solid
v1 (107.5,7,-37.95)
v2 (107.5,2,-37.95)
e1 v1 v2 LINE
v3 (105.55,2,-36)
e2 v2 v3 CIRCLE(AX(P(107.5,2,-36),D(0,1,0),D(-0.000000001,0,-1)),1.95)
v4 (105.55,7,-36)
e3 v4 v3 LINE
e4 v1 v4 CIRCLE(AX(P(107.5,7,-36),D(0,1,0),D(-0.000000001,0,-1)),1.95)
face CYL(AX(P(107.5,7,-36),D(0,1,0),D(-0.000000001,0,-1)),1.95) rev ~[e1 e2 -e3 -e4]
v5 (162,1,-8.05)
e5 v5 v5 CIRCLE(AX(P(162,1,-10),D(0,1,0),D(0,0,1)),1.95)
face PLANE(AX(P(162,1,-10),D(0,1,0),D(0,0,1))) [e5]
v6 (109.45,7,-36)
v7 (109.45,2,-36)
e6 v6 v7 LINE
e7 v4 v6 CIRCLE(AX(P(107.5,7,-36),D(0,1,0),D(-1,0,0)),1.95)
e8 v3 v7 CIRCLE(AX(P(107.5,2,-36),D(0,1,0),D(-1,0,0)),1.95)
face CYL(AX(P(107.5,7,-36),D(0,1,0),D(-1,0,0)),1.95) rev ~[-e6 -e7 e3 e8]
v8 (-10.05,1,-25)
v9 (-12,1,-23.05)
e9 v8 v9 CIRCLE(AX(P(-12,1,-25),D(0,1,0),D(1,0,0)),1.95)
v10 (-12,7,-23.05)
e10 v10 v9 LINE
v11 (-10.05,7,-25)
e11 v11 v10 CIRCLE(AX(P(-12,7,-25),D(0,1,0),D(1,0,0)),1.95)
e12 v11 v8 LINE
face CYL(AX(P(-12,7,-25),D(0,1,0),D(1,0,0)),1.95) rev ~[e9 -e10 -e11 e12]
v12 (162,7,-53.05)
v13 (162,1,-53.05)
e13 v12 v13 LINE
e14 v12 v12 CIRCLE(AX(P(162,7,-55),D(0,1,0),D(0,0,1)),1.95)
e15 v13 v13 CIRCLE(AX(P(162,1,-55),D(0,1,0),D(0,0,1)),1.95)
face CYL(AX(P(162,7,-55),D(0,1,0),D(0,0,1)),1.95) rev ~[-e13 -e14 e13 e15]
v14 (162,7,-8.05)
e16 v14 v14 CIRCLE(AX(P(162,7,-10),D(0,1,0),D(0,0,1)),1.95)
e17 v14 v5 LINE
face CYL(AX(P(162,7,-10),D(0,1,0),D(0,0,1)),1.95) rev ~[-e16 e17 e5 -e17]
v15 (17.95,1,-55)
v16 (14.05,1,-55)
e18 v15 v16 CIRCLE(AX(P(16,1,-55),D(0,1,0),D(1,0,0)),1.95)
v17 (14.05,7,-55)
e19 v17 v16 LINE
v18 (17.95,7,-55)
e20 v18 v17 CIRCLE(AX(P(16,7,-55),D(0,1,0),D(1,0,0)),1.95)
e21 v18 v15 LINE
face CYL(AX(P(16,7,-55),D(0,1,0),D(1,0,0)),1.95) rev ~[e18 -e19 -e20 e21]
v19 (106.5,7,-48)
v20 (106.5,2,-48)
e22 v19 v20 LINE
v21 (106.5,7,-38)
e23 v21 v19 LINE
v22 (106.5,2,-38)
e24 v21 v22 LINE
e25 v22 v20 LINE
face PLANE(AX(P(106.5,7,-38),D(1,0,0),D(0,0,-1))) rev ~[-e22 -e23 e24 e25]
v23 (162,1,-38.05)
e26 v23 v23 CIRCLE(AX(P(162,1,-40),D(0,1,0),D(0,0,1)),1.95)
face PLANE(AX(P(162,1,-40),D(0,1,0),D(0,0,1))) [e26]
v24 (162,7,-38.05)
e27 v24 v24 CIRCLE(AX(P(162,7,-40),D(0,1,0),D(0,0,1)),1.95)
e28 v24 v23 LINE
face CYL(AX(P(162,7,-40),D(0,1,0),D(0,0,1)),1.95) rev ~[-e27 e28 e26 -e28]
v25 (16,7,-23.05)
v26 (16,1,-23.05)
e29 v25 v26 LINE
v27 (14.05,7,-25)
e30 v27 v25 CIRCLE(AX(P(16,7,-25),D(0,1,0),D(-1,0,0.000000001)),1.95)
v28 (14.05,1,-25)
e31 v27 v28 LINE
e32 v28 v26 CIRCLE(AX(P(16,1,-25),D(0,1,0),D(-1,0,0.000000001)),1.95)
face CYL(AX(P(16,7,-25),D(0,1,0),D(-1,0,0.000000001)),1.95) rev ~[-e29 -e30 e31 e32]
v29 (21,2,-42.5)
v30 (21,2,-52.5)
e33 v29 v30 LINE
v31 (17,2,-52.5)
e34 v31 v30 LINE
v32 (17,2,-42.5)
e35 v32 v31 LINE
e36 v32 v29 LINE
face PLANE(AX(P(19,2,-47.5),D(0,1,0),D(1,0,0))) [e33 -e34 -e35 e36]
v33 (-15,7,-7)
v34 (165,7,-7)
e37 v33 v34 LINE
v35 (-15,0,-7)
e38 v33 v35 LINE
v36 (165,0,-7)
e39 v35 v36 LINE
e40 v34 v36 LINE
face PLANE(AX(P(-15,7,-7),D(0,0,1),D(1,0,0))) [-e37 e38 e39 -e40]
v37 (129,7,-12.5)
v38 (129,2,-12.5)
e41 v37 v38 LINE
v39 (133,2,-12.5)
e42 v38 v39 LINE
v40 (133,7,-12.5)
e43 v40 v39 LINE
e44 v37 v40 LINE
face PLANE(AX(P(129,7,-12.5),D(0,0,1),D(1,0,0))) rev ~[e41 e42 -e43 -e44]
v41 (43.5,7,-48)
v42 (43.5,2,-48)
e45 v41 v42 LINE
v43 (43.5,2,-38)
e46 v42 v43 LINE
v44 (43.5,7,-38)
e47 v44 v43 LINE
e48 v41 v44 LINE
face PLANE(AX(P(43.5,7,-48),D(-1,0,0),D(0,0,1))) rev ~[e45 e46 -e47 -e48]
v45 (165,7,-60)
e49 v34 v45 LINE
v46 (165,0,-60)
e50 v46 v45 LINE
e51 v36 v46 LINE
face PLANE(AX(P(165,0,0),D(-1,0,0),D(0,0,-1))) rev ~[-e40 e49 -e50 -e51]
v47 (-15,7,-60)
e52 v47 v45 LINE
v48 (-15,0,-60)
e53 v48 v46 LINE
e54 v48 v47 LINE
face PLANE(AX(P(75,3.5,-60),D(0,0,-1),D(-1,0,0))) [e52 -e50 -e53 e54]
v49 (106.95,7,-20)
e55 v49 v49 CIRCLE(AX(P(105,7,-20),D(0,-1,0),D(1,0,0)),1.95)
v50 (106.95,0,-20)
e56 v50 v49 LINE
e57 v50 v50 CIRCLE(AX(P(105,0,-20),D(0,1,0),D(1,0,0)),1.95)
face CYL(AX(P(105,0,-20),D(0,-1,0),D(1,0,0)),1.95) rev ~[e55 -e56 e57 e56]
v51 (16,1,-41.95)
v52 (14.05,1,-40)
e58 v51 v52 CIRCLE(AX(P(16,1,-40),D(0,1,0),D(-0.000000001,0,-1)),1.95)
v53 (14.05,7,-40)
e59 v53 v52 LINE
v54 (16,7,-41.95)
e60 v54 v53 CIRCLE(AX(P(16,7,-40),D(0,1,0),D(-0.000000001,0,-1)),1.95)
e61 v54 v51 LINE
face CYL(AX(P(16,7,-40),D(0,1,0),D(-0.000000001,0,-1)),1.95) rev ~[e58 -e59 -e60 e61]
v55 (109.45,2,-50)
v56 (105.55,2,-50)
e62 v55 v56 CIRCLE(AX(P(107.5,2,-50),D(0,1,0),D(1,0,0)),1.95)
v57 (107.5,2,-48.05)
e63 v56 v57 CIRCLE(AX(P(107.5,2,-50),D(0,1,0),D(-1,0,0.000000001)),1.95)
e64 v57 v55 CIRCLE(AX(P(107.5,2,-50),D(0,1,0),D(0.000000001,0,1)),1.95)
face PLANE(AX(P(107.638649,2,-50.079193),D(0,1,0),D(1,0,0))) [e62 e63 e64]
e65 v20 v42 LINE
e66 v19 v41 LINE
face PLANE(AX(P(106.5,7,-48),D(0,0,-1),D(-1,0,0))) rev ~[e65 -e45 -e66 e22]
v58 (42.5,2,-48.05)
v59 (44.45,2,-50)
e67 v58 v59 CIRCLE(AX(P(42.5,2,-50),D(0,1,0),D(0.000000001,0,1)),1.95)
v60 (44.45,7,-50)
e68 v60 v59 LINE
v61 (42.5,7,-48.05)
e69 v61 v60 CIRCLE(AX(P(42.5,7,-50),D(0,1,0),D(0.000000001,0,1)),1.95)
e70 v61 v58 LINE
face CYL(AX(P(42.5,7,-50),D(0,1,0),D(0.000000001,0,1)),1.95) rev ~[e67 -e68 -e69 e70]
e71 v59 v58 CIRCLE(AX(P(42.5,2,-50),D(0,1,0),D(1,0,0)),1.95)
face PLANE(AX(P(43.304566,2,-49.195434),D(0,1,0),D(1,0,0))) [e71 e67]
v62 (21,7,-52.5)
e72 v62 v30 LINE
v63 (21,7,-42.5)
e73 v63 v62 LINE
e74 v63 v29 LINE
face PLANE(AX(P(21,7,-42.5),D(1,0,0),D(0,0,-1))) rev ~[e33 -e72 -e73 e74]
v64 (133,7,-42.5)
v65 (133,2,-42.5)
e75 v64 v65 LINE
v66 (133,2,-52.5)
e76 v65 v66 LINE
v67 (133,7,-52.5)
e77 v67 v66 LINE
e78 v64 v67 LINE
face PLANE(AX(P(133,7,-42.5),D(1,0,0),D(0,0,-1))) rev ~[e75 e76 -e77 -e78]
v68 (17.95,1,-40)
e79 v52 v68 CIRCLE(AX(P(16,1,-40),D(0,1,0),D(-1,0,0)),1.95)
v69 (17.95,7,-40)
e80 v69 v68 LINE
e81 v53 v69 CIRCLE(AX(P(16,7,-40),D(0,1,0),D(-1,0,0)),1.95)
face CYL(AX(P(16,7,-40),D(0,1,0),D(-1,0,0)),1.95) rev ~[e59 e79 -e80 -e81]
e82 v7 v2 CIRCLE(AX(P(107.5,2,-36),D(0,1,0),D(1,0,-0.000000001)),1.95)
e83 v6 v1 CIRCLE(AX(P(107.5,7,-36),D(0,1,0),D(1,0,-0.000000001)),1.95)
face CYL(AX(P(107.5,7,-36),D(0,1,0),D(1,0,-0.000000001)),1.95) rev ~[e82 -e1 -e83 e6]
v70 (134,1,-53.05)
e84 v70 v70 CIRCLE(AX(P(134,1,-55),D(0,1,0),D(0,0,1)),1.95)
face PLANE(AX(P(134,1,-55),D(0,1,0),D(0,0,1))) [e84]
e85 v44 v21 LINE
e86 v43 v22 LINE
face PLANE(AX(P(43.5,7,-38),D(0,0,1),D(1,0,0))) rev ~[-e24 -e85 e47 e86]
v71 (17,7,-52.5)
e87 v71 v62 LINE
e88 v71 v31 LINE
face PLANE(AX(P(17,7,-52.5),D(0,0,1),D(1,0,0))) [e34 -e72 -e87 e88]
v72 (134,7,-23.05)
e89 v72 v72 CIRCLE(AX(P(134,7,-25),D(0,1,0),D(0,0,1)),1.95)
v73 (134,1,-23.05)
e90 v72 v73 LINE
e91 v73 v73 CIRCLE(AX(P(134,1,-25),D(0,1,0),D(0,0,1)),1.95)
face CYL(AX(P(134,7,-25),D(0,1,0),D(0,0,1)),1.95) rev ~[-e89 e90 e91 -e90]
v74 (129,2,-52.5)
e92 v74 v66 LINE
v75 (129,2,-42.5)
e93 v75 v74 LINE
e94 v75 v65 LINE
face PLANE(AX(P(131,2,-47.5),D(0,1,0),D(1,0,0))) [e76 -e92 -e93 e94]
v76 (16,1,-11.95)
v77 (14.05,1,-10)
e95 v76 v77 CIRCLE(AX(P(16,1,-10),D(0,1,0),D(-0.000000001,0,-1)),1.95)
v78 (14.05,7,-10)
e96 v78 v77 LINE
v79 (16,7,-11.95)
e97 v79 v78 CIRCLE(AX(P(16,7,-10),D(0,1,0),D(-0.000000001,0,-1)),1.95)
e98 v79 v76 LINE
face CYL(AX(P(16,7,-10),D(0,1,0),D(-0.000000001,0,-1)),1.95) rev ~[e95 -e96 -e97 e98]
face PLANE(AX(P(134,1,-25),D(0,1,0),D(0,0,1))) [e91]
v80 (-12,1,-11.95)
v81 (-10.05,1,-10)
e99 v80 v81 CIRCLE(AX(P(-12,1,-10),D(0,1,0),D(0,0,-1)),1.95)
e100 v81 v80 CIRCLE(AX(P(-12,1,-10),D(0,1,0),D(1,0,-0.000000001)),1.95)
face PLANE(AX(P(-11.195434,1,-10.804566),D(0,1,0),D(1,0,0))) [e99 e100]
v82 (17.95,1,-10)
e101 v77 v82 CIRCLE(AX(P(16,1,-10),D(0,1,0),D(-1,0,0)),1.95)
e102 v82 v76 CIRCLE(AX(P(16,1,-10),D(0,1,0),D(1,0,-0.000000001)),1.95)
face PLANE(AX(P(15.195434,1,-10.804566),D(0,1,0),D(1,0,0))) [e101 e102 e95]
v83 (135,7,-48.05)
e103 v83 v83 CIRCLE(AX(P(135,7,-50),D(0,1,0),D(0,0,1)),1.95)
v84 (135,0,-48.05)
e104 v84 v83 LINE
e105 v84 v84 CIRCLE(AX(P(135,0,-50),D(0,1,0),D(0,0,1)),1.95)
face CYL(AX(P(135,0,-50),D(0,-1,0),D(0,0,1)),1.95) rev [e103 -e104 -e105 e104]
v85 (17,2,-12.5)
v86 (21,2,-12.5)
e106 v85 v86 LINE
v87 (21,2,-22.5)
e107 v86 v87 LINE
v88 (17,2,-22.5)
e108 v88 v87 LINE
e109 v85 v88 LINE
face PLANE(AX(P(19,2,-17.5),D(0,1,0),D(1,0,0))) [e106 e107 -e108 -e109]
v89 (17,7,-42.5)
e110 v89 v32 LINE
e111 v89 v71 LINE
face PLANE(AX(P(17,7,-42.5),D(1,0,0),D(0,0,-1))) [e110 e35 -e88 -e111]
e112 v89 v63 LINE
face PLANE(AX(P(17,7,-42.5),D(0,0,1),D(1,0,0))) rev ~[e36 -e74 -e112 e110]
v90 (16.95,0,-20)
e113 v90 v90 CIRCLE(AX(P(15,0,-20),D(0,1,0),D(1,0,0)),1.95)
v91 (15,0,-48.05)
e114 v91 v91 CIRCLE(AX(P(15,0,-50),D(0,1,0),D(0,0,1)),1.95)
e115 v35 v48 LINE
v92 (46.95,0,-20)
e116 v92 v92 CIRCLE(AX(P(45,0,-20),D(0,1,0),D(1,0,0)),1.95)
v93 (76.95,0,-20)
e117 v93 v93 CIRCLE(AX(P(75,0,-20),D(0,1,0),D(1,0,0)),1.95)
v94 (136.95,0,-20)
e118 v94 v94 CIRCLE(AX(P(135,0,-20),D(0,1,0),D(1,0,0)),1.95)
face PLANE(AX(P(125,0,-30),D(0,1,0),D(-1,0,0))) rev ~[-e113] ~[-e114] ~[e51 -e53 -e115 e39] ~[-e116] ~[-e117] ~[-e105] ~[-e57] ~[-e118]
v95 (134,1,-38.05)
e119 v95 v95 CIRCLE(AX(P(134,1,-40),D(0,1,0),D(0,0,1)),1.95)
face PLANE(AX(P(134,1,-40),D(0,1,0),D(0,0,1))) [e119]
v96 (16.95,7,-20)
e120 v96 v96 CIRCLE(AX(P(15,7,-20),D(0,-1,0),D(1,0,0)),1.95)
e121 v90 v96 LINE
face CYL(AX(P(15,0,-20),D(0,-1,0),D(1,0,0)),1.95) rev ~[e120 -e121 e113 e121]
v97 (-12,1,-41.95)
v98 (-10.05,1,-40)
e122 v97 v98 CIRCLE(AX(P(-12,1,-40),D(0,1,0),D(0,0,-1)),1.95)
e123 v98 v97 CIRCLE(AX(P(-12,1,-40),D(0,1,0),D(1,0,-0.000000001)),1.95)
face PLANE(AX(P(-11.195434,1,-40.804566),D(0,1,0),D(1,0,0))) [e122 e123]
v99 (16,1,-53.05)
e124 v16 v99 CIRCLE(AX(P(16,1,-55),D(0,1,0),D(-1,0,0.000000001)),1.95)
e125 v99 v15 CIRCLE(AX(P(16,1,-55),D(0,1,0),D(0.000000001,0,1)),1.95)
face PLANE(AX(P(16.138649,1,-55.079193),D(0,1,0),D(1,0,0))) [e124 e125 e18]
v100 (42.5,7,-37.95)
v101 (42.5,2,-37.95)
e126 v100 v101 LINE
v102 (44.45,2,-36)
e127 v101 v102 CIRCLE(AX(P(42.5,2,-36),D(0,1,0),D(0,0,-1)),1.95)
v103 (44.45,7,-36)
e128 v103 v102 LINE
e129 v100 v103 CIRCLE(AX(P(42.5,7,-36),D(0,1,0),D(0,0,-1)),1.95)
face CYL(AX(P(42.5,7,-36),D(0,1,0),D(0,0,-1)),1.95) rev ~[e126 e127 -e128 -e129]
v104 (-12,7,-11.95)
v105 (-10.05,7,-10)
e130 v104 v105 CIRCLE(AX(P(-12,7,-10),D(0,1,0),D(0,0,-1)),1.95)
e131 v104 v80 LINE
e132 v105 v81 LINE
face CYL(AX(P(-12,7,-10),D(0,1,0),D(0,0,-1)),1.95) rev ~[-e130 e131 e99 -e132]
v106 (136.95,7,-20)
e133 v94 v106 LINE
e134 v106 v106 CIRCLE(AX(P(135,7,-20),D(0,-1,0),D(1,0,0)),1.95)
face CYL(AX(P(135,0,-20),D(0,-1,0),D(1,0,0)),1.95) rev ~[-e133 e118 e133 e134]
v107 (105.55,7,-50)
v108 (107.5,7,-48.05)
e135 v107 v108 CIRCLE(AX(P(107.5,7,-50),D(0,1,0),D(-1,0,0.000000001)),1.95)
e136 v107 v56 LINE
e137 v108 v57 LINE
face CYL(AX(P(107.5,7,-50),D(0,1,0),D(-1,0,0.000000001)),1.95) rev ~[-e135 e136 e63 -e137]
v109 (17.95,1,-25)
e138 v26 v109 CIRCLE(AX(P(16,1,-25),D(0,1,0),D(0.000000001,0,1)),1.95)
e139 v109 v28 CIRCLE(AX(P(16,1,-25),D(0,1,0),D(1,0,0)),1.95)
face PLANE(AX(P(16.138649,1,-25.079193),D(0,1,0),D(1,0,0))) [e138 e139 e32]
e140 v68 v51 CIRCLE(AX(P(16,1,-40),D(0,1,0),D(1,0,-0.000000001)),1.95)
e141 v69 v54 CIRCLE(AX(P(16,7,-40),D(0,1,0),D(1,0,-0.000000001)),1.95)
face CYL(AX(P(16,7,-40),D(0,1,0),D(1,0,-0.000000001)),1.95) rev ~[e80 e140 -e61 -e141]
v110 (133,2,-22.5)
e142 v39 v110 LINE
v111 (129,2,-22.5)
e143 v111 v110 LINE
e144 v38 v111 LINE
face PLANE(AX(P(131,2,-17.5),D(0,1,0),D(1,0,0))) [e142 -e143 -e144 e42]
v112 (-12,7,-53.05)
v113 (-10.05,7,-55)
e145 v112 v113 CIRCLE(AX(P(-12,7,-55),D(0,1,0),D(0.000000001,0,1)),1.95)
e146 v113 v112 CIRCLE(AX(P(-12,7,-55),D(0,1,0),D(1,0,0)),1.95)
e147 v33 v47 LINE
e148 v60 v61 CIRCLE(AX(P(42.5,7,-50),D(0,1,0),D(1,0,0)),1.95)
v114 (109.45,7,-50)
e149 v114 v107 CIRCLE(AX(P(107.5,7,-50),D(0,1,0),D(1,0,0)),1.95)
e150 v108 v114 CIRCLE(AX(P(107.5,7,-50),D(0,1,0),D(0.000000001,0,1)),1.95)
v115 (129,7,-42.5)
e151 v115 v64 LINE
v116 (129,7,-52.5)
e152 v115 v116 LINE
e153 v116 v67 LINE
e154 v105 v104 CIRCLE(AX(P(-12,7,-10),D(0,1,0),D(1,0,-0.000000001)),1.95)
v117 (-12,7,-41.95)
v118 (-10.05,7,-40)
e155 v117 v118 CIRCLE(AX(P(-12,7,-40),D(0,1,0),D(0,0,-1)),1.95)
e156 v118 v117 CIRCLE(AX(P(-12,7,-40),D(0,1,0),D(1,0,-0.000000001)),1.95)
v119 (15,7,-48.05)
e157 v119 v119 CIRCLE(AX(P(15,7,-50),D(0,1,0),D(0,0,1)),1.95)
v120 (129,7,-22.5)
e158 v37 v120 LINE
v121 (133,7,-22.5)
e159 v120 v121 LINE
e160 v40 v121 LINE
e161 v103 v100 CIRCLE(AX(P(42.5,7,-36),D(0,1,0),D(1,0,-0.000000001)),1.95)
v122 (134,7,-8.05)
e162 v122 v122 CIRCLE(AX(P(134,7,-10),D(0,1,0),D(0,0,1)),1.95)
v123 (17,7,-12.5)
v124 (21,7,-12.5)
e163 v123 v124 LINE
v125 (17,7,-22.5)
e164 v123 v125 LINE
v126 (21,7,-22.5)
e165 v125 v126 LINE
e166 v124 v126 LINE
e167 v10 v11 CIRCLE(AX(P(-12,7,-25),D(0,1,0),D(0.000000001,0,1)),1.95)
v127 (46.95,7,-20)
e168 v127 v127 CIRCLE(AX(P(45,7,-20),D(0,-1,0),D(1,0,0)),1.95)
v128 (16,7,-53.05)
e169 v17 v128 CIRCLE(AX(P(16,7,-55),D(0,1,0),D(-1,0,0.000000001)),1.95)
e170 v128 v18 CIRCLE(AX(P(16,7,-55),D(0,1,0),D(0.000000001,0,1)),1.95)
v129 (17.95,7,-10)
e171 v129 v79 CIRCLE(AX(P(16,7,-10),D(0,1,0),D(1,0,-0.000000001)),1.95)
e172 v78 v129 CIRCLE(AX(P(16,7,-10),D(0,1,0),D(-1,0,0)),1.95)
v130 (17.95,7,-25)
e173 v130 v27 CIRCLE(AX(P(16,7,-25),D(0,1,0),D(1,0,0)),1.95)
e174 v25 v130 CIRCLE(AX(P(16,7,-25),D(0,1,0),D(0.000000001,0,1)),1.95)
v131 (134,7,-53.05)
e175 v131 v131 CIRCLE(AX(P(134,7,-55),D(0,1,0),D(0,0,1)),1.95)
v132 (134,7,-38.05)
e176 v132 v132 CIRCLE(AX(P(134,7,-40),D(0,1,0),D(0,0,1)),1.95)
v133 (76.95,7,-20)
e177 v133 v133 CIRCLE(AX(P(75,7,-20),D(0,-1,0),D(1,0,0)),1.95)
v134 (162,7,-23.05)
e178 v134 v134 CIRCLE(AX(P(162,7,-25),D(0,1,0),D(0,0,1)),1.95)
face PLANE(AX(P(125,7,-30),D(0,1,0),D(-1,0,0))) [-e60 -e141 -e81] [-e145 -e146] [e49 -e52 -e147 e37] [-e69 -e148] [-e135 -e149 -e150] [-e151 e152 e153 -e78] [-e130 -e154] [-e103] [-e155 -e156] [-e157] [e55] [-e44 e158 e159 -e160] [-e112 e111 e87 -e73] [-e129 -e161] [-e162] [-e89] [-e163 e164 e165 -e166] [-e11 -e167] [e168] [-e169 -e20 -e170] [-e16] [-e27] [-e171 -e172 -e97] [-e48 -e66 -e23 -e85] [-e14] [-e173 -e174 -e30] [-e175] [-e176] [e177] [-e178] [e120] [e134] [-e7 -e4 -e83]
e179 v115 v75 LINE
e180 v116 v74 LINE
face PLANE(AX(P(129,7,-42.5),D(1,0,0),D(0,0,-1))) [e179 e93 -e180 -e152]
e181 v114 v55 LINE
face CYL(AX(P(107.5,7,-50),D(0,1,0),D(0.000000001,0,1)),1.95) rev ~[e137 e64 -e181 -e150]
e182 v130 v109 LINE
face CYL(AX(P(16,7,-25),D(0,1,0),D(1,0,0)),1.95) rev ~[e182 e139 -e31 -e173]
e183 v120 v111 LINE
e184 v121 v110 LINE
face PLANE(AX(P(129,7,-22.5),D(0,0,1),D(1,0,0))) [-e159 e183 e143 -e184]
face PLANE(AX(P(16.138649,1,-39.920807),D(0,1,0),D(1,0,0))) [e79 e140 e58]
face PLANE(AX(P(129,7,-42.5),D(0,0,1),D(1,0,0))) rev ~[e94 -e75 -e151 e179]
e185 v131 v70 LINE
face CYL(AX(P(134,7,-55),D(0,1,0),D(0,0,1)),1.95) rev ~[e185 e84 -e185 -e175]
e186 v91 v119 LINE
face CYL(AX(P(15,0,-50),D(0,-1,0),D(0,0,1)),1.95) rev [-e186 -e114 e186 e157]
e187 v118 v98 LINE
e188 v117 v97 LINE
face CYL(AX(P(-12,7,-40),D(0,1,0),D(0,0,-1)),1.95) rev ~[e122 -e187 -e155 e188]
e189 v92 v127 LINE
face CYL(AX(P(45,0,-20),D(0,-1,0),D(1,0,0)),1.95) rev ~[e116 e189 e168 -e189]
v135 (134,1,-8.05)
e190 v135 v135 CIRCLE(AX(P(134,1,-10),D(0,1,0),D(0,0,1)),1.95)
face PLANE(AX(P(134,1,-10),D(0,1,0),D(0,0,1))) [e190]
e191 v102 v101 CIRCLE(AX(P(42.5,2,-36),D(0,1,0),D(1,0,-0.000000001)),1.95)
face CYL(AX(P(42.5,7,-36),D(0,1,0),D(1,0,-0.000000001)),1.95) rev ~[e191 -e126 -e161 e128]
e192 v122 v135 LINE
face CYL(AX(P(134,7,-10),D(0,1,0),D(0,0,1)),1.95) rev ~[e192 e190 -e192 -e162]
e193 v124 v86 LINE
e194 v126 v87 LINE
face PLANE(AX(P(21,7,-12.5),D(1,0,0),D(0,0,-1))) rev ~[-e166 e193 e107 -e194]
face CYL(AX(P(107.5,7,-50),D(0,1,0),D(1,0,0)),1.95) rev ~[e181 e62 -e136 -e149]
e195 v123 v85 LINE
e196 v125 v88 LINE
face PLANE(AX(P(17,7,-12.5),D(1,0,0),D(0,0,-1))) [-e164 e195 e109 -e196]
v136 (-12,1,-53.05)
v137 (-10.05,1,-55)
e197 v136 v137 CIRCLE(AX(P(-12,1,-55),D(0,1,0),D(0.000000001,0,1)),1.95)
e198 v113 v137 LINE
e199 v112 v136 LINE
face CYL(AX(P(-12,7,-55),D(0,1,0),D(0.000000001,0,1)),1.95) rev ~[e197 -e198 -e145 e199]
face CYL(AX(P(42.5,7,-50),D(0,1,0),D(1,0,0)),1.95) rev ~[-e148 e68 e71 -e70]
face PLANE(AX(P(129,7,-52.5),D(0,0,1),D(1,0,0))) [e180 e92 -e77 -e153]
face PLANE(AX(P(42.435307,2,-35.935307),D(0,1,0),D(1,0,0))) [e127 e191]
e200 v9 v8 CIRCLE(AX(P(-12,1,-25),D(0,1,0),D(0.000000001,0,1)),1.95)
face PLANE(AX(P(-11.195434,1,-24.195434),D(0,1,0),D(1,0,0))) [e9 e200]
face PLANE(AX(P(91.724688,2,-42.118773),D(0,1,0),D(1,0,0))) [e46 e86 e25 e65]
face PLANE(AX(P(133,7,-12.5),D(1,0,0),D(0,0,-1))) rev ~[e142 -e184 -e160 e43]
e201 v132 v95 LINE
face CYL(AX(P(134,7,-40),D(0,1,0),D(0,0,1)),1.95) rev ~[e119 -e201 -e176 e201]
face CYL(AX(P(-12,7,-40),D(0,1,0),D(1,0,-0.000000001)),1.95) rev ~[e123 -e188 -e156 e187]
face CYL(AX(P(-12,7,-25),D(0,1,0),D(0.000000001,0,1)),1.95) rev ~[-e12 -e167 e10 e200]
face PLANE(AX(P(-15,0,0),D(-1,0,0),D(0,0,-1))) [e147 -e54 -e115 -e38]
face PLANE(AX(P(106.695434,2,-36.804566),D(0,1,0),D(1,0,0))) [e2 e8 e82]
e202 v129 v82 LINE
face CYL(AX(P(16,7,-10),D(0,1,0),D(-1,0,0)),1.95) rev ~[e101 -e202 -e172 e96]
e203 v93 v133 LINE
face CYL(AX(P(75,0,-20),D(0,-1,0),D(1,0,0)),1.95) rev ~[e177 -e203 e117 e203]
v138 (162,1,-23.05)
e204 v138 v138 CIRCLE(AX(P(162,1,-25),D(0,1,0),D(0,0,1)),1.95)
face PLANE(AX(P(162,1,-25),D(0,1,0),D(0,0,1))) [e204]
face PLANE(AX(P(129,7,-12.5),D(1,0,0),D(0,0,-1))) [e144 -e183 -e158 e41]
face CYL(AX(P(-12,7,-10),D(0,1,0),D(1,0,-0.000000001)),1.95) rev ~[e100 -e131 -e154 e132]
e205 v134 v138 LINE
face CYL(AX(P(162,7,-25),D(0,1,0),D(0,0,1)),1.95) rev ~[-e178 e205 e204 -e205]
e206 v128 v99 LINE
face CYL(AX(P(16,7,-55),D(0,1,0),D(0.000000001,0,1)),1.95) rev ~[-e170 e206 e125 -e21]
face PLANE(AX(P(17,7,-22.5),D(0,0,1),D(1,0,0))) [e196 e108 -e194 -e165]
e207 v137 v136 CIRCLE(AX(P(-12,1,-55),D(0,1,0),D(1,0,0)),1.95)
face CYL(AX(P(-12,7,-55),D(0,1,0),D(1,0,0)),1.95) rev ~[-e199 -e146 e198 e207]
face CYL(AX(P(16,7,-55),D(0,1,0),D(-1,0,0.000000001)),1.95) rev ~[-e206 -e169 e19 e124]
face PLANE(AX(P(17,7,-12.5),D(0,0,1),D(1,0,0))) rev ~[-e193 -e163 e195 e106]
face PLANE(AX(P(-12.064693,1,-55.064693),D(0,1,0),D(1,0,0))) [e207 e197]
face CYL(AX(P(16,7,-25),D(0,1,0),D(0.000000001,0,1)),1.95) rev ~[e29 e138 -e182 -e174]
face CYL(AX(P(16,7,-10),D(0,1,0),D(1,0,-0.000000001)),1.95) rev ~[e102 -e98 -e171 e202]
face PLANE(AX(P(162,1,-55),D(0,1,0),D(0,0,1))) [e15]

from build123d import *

# Parameters (mm, degrees)
SKETCH_1_W          = 25
SKETCH_1_H          = 30
SKETCH_1_R          = 1.95
SKETCH_1_W_2        = 15
SKETCH_1_H_2        = 60
EXTRUDE_1_DEPTH     = 7
SKETCH_2_R          = 1.95
CUT_EXTRUDE_1_DEPTH = 6
SKETCH_4_W          = 4
SKETCH_4_H          = 10
CUT_EXTRUDE_2_DEPTH = 5
SKETCH_5_W          = 180
SKETCH_5_H          = 7
CUT_EXTRUDE_3_DEPTH = 10
SKETCH_6_W          = 100
SKETCH_6_H          = 7
EXTRUDE_2_DEPTH     = 30
CUT_EXTRUDE_4_DEPTH = 5
CUT_EXTRUDE_5_DEPTH = 5


with BuildPart() as part:
    # 草图1 → 凸台-拉伸1 (new body)
    # profile 1 of 6: a face of its own
    with BuildSketch(Plane(origin=(0, 0, 0), x_dir=(1, 0, 0), z_dir=(0, 1, 0))):
        with Locations((12.5, 45)):
            Rectangle(SKETCH_1_W, SKETCH_1_H)
        with Locations(Location((15, 50, 0), (0, 0, 270))):
            Circle(SKETCH_1_R, mode=Mode.SUBTRACT)
    # profile 2 of 6: a face of its own
    with BuildSketch(Plane(origin=(0, 0, 0), x_dir=(1, 0, 0), z_dir=(0, 1, 0))):
        with BuildLine():
            Line((150, 20), (136.95, 20))
            ThreePointArc((136.95, 20), (135, 18.05), (133.05, 20))
            Line((133.05, 20), (106.95, 20))
            ThreePointArc((106.95, 20), (105, 18.05), (103.05, 20))
            Line((103.05, 20), (76.95, 20))
            ThreePointArc((76.95, 20), (75, 18.05), (73.05, 20))
            Line((73.05, 20), (46.95, 20))
            ThreePointArc((46.95, 20), (45, 18.05), (43.05, 20))
            Line((43.05, 20), (16.95, 20))
            ThreePointArc((16.95, 20), (15, 18.05), (13.05, 20))
            Line((13.05, 20), (0, 20))
            Line((0, 20), (0, 0))
            Line((0, 0), (150, 0))
            Line((150, 0), (150, 20))
        make_face()
    # profile 3 of 6: a face of its own
    with BuildSketch(Plane(origin=(0, 0, 0), x_dir=(1, 0, 0), z_dir=(0, 1, 0))):
        with BuildLine():
            ThreePointArc((133.05, 20), (135, 21.95), (136.95, 20))
            Line((136.95, 20), (150, 20))
            Line((150, 20), (150, 30))
            Line((150, 30), (125, 30))
            Line((125, 30), (25, 30))
            Line((25, 30), (0, 30))
            Line((0, 30), (0, 20))
            Line((0, 20), (13.05, 20))
            ThreePointArc((13.05, 20), (15, 21.95), (16.95, 20))
            Line((16.95, 20), (43.05, 20))
            ThreePointArc((43.05, 20), (45, 21.95), (46.95, 20))
            Line((46.95, 20), (73.05, 20))
            ThreePointArc((73.05, 20), (75, 21.95), (76.95, 20))
            Line((76.95, 20), (103.05, 20))
            ThreePointArc((103.05, 20), (105, 21.95), (106.95, 20))
            Line((106.95, 20), (133.05, 20))
        make_face()
    # profile 4 of 6: a face of its own
    with BuildSketch(Plane(origin=(0, 0, 0), x_dir=(1, 0, 0), z_dir=(0, 1, 0))):
        with Locations((137.5, 45)):
            Rectangle(SKETCH_1_W, SKETCH_1_H)
        with Locations(Location((135, 50, 0), (0, 0, 270))):
            Circle(SKETCH_1_R, mode=Mode.SUBTRACT)
    # profile 5 of 6: a face of its own
    with BuildSketch(Plane(origin=(0, 0, 0), x_dir=(1, 0, 0), z_dir=(0, 1, 0))):
        with Locations((-7.5, 30)):
            Rectangle(SKETCH_1_W_2, SKETCH_1_H_2)
    # profile 6 of 6: a face of its own
    with BuildSketch(Plane(origin=(0, 0, 0), x_dir=(1, 0, 0), z_dir=(0, 1, 0))):
        with Locations((157.5, 30)):
            Rectangle(SKETCH_1_W_2, SKETCH_1_H_2)
    extrude(amount=EXTRUDE_1_DEPTH)

    # 草图2 → 切除-拉伸1 (cut)
    with BuildSketch(Plane(origin=(0, 7, 0), x_dir=(1, 0, 0), z_dir=(0, 1, 0))):
        with BuildLine():
            Line((-12, 53.05), (-12, 55))
            Line((-12, 55), (-10.05, 55))
            ThreePointArc((-10.05, 55), (-13.378858223, 56.378858223), (-12, 53.05))
        make_face()
        with BuildLine():
            Line((-10.05, 55), (-12, 55))
            Line((-12, 55), (-12, 53.05))
            ThreePointArc((-12, 53.05), (-10.621141777, 53.621141777), (-10.05, 55))
        make_face()
        with BuildLine():
            Line((-12, 53.05), (-12, 55))
            Line((-12, 55), (-10.05, 55))
            ThreePointArc((-10.05, 55), (-13.378858223, 56.378858223), (-12, 53.05))
        make_face()
        with BuildLine():
            Line((-10.05, 55), (-12, 55))
            Line((-12, 55), (-12, 53.05))
            ThreePointArc((-12, 53.05), (-10.621141777, 53.621141777), (-10.05, 55))
        make_face()
        with BuildLine():
            ThreePointArc((-10.05, 40), (-10.621141777, 41.378858223), (-12, 41.95))
            Line((-12, 41.95), (-12, 40))
            Line((-12, 40), (-10.05, 40))
        make_face()
        with BuildLine():
            Line((-12, 40), (-12, 41.95))
            ThreePointArc((-12, 41.95), (-13.378858223, 38.621141777), (-10.05, 40))
            Line((-10.05, 40), (-12, 40))
        make_face()
        with BuildLine():
            ThreePointArc((-10.05, 40), (-10.621141777, 41.378858223), (-12, 41.95))
            Line((-12, 41.95), (-12, 40))
            Line((-12, 40), (-10.05, 40))
        make_face()
        with BuildLine():
            Line((-12, 40), (-12, 41.95))
            ThreePointArc((-12, 41.95), (-13.378858223, 38.621141777), (-10.05, 40))
            Line((-10.05, 40), (-12, 40))
        make_face()
        with BuildLine():
            ThreePointArc((17.95, 40), (17.378858223, 41.378858223), (16, 41.95))
            Line((16, 41.95), (16, 40))
            Line((16, 40), (14.05, 40))
            ThreePointArc((14.05, 40), (16, 38.05), (17.95, 40))
        make_face()
        with BuildLine():
            Line((16, 40), (16, 41.95))
            ThreePointArc((16, 41.95), (14.621141777, 41.378858223), (14.05, 40))
            Line((14.05, 40), (16, 40))
        make_face()
        with BuildLine():
            ThreePointArc((17.95, 40), (17.378858223, 41.378858223), (16, 41.95))
            Line((16, 41.95), (16, 40))
            Line((16, 40), (14.05, 40))
            ThreePointArc((14.05, 40), (16, 38.05), (17.95, 40))
        make_face()
        with BuildLine():
            Line((16, 40), (16, 41.95))
            ThreePointArc((16, 41.95), (14.621141777, 41.378858223), (14.05, 40))
            Line((14.05, 40), (16, 40))
        make_face()
        with BuildLine():
            ThreePointArc((17.95, 55), (16, 56.95), (14.05, 55))
            Line((14.05, 55), (16, 55))
            Line((16, 55), (16, 53.05))
            ThreePointArc((16, 53.05), (17.378858223, 53.621141777), (17.95, 55))
        make_face()
        with BuildLine():
            Line((16, 55), (14.05, 55))
            ThreePointArc((14.05, 55), (14.621141777, 53.621141777), (16, 53.05))
            Line((16, 53.05), (16, 55))
        make_face()
        with BuildLine():
            ThreePointArc((17.95, 55), (16, 56.95), (14.05, 55))
            Line((14.05, 55), (16, 55))
            Line((16, 55), (16, 53.05))
            ThreePointArc((16, 53.05), (17.378858223, 53.621141777), (17.95, 55))
        make_face()
        with BuildLine():
            Line((16, 55), (14.05, 55))
            ThreePointArc((14.05, 55), (14.621141777, 53.621141777), (16, 53.05))
            Line((16, 53.05), (16, 55))
        make_face()
        with BuildLine():
            ThreePointArc((-10.05, 10), (-10.621141777, 11.378858223), (-12, 11.95))
            Line((-12, 11.95), (-12, 10))
            Line((-12, 10), (-10.05, 10))
        make_face()
        with BuildLine():
            Line((-12, 10), (-12, 11.95))
            ThreePointArc((-12, 11.95), (-13.378858223, 8.621141777), (-10.05, 10))
            Line((-10.05, 10), (-12, 10))
        make_face()
        with BuildLine():
            ThreePointArc((-10.05, 10), (-10.621141777, 11.378858223), (-12, 11.95))
            Line((-12, 11.95), (-12, 10))
            Line((-12, 10), (-10.05, 10))
        make_face()
        with BuildLine():
            Line((-12, 10), (-12, 11.95))
            ThreePointArc((-12, 11.95), (-13.378858223, 8.621141777), (-10.05, 10))
            Line((-10.05, 10), (-12, 10))
        make_face()
        with BuildLine():
            Line((-10.05, 25), (-12, 25))
            Line((-12, 25), (-12, 23.05))
            ThreePointArc((-12, 23.05), (-10.621141777, 23.621141777), (-10.05, 25))
        make_face()
        with BuildLine():
            Line((-12, 23.05), (-12, 25))
            Line((-12, 25), (-10.05, 25))
            ThreePointArc((-10.05, 25), (-13.378858223, 26.378858223), (-12, 23.05))
        make_face()
        with BuildLine():
            Line((-10.05, 25), (-12, 25))
            Line((-12, 25), (-12, 23.05))
            ThreePointArc((-12, 23.05), (-10.621141777, 23.621141777), (-10.05, 25))
        make_face()
        with BuildLine():
            Line((-12, 23.05), (-12, 25))
            Line((-12, 25), (-10.05, 25))
            ThreePointArc((-10.05, 25), (-13.378858223, 26.378858223), (-12, 23.05))
        make_face()
        with BuildLine():
            ThreePointArc((17.95, 25), (16, 26.95), (14.05, 25))
            Line((14.05, 25), (16, 25))
            Line((16, 25), (16, 23.05))
            ThreePointArc((16, 23.05), (17.378858223, 23.621141777), (17.95, 25))
        make_face()
        with BuildLine():
            Line((16, 25), (14.05, 25))
            ThreePointArc((14.05, 25), (14.621141777, 23.621141777), (16, 23.05))
            Line((16, 23.05), (16, 25))
        make_face()
        with BuildLine():
            ThreePointArc((17.95, 25), (16, 26.95), (14.05, 25))
            Line((14.05, 25), (16, 25))
            Line((16, 25), (16, 23.05))
            ThreePointArc((16, 23.05), (17.378858223, 23.621141777), (17.95, 25))
        make_face()
        with BuildLine():
            Line((16, 25), (14.05, 25))
            ThreePointArc((14.05, 25), (14.621141777, 23.621141777), (16, 23.05))
            Line((16, 23.05), (16, 25))
        make_face()
        with BuildLine():
            ThreePointArc((16, 11.95), (14.621141777, 11.378858223), (14.05, 10))
            Line((14.05, 10), (16, 10))
            Line((16, 10), (16, 11.95))
        make_face()
        with BuildLine():
            Line((16, 10), (14.05, 10))
            ThreePointArc((14.05, 10), (16, 8.05), (17.95, 10))
            ThreePointArc((17.95, 10), (17.378858223, 11.378858223), (16, 11.95))
            Line((16, 11.95), (16, 10))
        make_face()
        with BuildLine():
            ThreePointArc((16, 11.95), (14.621141777, 11.378858223), (14.05, 10))
            Line((14.05, 10), (16, 10))
            Line((16, 10), (16, 11.95))
        make_face()
        with BuildLine():
            Line((16, 10), (14.05, 10))
            ThreePointArc((14.05, 10), (16, 8.05), (17.95, 10))
            ThreePointArc((17.95, 10), (17.378858223, 11.378858223), (16, 11.95))
            Line((16, 11.95), (16, 10))
        make_face()
        with Locations(Location((134, 10, 0), (0, 0, 270))):
            Circle(SKETCH_2_R)
        with Locations(Location((162, 10, 0), (0, 0, 270))):
            Circle(SKETCH_2_R)
        with Locations(Location((162, 25, 0), (0, 0, 270))):
            Circle(SKETCH_2_R)
        with Locations(Location((134, 25, 0), (0, 0, 270))):
            Circle(SKETCH_2_R)
        with Locations(Location((134, 40, 0), (0, 0, 270))):
            Circle(SKETCH_2_R)
        with Locations(Location((134, 55, 0), (0, 0, 270))):
            Circle(SKETCH_2_R)
        with Locations(Location((162, 55, 0), (0, 0, 270))):
            Circle(SKETCH_2_R)
        with Locations(Location((162, 40, 0), (0, 0, 270))):
            Circle(SKETCH_2_R)
    extrude(amount=-CUT_EXTRUDE_1_DEPTH, mode=Mode.SUBTRACT)

    # 草图4 → 切除-拉伸2 (cut)
    with BuildSketch(Plane(origin=(0, 7, 0), x_dir=(1, 0, 0), z_dir=(0, 1, 0))):
        with Locations((131, 47.5)):
            Rectangle(SKETCH_4_W, SKETCH_4_H)
        with Locations((131, 17.5)):
            Rectangle(SKETCH_4_W, SKETCH_4_H)
        with Locations((19, 17.5)):
            Rectangle(SKETCH_4_W, SKETCH_4_H)
        with Locations((19, 47.5)):
            Rectangle(SKETCH_4_W, SKETCH_4_H)
    extrude(amount=-CUT_EXTRUDE_2_DEPTH, mode=Mode.SUBTRACT)

    # 草图5 → 切除-拉伸3 (cut)
    with BuildSketch(Plane(origin=(0, 7, 0), x_dir=(1, 0, 0), z_dir=(0, 1, 0))):
        with Locations((75, 3.5)):
            Rectangle(SKETCH_5_W, SKETCH_5_H)
    extrude(amount=-CUT_EXTRUDE_3_DEPTH, mode=Mode.SUBTRACT)

    # 草图6 → 凸台-拉伸2 (add, through all)
    with BuildSketch(Plane(origin=(0, 0, -30), x_dir=(-1, 0, 0), z_dir=(0, 0, -1))):
        with Locations((-75, 3.5)):
            Rectangle(SKETCH_6_W, SKETCH_6_H)
    extrude(amount=EXTRUDE_2_DEPTH)

    # 草图7 → 切除-拉伸4 (cut)
    with BuildSketch(Plane(origin=(0, 7, 0), x_dir=(1, 0, 0), z_dir=(0, 1, 0))):
        with BuildLine():
            ThreePointArc((42.5, 48.05), (43.878858223, 48.621141777), (44.45, 50))
            Line((44.45, 50), (42.5, 50))
            Line((42.5, 50), (42.5, 48.05))
        make_face()
        with BuildLine():
            Line((42.5, 50), (44.45, 50))
            ThreePointArc((44.45, 50), (41.121141777, 51.378858223), (42.5, 48.05))
            Line((42.5, 48.05), (42.5, 50))
        make_face()
        with BuildLine():
            ThreePointArc((42.5, 48.05), (43.878858223, 48.621141777), (44.45, 50))
            Line((44.45, 50), (42.5, 50))
            Line((42.5, 50), (42.5, 48.05))
        make_face()
        with BuildLine():
            Line((42.5, 50), (44.45, 50))
            ThreePointArc((44.45, 50), (41.121141777, 51.378858223), (42.5, 48.05))
            Line((42.5, 48.05), (42.5, 50))
        make_face()
        with BuildLine():
            ThreePointArc((42.5, 37.95), (41.121141777, 34.621141777), (44.45, 36))
            Line((44.45, 36), (42.5, 36))
            Line((42.5, 36), (42.5, 37.95))
        make_face()
        with BuildLine():
            Line((42.5, 36), (44.45, 36))
            ThreePointArc((44.45, 36), (43.878858223, 37.378858223), (42.5, 37.95))
            Line((42.5, 37.95), (42.5, 36))
        make_face()
        with BuildLine():
            ThreePointArc((42.5, 37.95), (41.121141777, 34.621141777), (44.45, 36))
            Line((44.45, 36), (42.5, 36))
            Line((42.5, 36), (42.5, 37.95))
        make_face()
        with BuildLine():
            Line((42.5, 36), (44.45, 36))
            ThreePointArc((44.45, 36), (43.878858223, 37.378858223), (42.5, 37.95))
            Line((42.5, 37.95), (42.5, 36))
        make_face()
        with BuildLine():
            ThreePointArc((107.5, 37.95), (106.121141777, 37.378858223), (105.55, 36))
            Line((105.55, 36), (107.5, 36))
            Line((107.5, 36), (107.5, 37.95))
        make_face()
        with BuildLine():
            Line((107.5, 36), (105.55, 36))
            ThreePointArc((105.55, 36), (107.5, 34.05), (109.45, 36))
            ThreePointArc((109.45, 36), (108.878858223, 37.378858223), (107.5, 37.95))
            Line((107.5, 37.95), (107.5, 36))
        make_face()
        with BuildLine():
            ThreePointArc((107.5, 37.95), (106.121141777, 37.378858223), (105.55, 36))
            Line((105.55, 36), (107.5, 36))
            Line((107.5, 36), (107.5, 37.95))
        make_face()
        with BuildLine():
            Line((107.5, 36), (105.55, 36))
            ThreePointArc((105.55, 36), (107.5, 34.05), (109.45, 36))
            ThreePointArc((109.45, 36), (108.878858223, 37.378858223), (107.5, 37.95))
            Line((107.5, 37.95), (107.5, 36))
        make_face()
        with BuildLine():
            ThreePointArc((109.45, 50), (107.5, 51.95), (105.55, 50))
            Line((105.55, 50), (107.5, 50))
            Line((107.5, 50), (107.5, 48.05))
            ThreePointArc((107.5, 48.05), (108.878858223, 48.621141777), (109.45, 50))
        make_face()
        with BuildLine():
            Line((107.5, 50), (105.55, 50))
            ThreePointArc((105.55, 50), (106.121141777, 48.621141777), (107.5, 48.05))
            Line((107.5, 48.05), (107.5, 50))
        make_face()
        with BuildLine():
            ThreePointArc((109.45, 50), (107.5, 51.95), (105.55, 50))
            Line((105.55, 50), (107.5, 50))
            Line((107.5, 50), (107.5, 48.05))
            ThreePointArc((107.5, 48.05), (108.878858223, 48.621141777), (109.45, 50))
        make_face()
        with BuildLine():
            Line((107.5, 50), (105.55, 50))
            ThreePointArc((105.55, 50), (106.121141777, 48.621141777), (107.5, 48.05))
            Line((107.5, 48.05), (107.5, 50))
        make_face()
    extrude(amount=-CUT_EXTRUDE_4_DEPTH, mode=Mode.SUBTRACT)

    # 草图8 → 切除-拉伸5 (cut)
    with BuildSketch(Plane(origin=(0, 7, 0), x_dir=(1, 0, 0), z_dir=(0, 1, 0))):
        Polygon((75, 43), (75, 38), (106.5, 38), (106.5, 48), (98.214285714, 48), align=None)
        Polygon((75, 48), (75, 43), (98.214285714, 48), align=None)
        Polygon((51.785714286, 38), (75, 43), (75, 48), (43.5, 48), (43.5, 38), align=None)
        Polygon((51.785714286, 38), (75, 38), (75, 43), align=None)
    extrude(amount=-CUT_EXTRUDE_5_DEPTH, mode=Mode.SUBTRACT)


solid = part.part
